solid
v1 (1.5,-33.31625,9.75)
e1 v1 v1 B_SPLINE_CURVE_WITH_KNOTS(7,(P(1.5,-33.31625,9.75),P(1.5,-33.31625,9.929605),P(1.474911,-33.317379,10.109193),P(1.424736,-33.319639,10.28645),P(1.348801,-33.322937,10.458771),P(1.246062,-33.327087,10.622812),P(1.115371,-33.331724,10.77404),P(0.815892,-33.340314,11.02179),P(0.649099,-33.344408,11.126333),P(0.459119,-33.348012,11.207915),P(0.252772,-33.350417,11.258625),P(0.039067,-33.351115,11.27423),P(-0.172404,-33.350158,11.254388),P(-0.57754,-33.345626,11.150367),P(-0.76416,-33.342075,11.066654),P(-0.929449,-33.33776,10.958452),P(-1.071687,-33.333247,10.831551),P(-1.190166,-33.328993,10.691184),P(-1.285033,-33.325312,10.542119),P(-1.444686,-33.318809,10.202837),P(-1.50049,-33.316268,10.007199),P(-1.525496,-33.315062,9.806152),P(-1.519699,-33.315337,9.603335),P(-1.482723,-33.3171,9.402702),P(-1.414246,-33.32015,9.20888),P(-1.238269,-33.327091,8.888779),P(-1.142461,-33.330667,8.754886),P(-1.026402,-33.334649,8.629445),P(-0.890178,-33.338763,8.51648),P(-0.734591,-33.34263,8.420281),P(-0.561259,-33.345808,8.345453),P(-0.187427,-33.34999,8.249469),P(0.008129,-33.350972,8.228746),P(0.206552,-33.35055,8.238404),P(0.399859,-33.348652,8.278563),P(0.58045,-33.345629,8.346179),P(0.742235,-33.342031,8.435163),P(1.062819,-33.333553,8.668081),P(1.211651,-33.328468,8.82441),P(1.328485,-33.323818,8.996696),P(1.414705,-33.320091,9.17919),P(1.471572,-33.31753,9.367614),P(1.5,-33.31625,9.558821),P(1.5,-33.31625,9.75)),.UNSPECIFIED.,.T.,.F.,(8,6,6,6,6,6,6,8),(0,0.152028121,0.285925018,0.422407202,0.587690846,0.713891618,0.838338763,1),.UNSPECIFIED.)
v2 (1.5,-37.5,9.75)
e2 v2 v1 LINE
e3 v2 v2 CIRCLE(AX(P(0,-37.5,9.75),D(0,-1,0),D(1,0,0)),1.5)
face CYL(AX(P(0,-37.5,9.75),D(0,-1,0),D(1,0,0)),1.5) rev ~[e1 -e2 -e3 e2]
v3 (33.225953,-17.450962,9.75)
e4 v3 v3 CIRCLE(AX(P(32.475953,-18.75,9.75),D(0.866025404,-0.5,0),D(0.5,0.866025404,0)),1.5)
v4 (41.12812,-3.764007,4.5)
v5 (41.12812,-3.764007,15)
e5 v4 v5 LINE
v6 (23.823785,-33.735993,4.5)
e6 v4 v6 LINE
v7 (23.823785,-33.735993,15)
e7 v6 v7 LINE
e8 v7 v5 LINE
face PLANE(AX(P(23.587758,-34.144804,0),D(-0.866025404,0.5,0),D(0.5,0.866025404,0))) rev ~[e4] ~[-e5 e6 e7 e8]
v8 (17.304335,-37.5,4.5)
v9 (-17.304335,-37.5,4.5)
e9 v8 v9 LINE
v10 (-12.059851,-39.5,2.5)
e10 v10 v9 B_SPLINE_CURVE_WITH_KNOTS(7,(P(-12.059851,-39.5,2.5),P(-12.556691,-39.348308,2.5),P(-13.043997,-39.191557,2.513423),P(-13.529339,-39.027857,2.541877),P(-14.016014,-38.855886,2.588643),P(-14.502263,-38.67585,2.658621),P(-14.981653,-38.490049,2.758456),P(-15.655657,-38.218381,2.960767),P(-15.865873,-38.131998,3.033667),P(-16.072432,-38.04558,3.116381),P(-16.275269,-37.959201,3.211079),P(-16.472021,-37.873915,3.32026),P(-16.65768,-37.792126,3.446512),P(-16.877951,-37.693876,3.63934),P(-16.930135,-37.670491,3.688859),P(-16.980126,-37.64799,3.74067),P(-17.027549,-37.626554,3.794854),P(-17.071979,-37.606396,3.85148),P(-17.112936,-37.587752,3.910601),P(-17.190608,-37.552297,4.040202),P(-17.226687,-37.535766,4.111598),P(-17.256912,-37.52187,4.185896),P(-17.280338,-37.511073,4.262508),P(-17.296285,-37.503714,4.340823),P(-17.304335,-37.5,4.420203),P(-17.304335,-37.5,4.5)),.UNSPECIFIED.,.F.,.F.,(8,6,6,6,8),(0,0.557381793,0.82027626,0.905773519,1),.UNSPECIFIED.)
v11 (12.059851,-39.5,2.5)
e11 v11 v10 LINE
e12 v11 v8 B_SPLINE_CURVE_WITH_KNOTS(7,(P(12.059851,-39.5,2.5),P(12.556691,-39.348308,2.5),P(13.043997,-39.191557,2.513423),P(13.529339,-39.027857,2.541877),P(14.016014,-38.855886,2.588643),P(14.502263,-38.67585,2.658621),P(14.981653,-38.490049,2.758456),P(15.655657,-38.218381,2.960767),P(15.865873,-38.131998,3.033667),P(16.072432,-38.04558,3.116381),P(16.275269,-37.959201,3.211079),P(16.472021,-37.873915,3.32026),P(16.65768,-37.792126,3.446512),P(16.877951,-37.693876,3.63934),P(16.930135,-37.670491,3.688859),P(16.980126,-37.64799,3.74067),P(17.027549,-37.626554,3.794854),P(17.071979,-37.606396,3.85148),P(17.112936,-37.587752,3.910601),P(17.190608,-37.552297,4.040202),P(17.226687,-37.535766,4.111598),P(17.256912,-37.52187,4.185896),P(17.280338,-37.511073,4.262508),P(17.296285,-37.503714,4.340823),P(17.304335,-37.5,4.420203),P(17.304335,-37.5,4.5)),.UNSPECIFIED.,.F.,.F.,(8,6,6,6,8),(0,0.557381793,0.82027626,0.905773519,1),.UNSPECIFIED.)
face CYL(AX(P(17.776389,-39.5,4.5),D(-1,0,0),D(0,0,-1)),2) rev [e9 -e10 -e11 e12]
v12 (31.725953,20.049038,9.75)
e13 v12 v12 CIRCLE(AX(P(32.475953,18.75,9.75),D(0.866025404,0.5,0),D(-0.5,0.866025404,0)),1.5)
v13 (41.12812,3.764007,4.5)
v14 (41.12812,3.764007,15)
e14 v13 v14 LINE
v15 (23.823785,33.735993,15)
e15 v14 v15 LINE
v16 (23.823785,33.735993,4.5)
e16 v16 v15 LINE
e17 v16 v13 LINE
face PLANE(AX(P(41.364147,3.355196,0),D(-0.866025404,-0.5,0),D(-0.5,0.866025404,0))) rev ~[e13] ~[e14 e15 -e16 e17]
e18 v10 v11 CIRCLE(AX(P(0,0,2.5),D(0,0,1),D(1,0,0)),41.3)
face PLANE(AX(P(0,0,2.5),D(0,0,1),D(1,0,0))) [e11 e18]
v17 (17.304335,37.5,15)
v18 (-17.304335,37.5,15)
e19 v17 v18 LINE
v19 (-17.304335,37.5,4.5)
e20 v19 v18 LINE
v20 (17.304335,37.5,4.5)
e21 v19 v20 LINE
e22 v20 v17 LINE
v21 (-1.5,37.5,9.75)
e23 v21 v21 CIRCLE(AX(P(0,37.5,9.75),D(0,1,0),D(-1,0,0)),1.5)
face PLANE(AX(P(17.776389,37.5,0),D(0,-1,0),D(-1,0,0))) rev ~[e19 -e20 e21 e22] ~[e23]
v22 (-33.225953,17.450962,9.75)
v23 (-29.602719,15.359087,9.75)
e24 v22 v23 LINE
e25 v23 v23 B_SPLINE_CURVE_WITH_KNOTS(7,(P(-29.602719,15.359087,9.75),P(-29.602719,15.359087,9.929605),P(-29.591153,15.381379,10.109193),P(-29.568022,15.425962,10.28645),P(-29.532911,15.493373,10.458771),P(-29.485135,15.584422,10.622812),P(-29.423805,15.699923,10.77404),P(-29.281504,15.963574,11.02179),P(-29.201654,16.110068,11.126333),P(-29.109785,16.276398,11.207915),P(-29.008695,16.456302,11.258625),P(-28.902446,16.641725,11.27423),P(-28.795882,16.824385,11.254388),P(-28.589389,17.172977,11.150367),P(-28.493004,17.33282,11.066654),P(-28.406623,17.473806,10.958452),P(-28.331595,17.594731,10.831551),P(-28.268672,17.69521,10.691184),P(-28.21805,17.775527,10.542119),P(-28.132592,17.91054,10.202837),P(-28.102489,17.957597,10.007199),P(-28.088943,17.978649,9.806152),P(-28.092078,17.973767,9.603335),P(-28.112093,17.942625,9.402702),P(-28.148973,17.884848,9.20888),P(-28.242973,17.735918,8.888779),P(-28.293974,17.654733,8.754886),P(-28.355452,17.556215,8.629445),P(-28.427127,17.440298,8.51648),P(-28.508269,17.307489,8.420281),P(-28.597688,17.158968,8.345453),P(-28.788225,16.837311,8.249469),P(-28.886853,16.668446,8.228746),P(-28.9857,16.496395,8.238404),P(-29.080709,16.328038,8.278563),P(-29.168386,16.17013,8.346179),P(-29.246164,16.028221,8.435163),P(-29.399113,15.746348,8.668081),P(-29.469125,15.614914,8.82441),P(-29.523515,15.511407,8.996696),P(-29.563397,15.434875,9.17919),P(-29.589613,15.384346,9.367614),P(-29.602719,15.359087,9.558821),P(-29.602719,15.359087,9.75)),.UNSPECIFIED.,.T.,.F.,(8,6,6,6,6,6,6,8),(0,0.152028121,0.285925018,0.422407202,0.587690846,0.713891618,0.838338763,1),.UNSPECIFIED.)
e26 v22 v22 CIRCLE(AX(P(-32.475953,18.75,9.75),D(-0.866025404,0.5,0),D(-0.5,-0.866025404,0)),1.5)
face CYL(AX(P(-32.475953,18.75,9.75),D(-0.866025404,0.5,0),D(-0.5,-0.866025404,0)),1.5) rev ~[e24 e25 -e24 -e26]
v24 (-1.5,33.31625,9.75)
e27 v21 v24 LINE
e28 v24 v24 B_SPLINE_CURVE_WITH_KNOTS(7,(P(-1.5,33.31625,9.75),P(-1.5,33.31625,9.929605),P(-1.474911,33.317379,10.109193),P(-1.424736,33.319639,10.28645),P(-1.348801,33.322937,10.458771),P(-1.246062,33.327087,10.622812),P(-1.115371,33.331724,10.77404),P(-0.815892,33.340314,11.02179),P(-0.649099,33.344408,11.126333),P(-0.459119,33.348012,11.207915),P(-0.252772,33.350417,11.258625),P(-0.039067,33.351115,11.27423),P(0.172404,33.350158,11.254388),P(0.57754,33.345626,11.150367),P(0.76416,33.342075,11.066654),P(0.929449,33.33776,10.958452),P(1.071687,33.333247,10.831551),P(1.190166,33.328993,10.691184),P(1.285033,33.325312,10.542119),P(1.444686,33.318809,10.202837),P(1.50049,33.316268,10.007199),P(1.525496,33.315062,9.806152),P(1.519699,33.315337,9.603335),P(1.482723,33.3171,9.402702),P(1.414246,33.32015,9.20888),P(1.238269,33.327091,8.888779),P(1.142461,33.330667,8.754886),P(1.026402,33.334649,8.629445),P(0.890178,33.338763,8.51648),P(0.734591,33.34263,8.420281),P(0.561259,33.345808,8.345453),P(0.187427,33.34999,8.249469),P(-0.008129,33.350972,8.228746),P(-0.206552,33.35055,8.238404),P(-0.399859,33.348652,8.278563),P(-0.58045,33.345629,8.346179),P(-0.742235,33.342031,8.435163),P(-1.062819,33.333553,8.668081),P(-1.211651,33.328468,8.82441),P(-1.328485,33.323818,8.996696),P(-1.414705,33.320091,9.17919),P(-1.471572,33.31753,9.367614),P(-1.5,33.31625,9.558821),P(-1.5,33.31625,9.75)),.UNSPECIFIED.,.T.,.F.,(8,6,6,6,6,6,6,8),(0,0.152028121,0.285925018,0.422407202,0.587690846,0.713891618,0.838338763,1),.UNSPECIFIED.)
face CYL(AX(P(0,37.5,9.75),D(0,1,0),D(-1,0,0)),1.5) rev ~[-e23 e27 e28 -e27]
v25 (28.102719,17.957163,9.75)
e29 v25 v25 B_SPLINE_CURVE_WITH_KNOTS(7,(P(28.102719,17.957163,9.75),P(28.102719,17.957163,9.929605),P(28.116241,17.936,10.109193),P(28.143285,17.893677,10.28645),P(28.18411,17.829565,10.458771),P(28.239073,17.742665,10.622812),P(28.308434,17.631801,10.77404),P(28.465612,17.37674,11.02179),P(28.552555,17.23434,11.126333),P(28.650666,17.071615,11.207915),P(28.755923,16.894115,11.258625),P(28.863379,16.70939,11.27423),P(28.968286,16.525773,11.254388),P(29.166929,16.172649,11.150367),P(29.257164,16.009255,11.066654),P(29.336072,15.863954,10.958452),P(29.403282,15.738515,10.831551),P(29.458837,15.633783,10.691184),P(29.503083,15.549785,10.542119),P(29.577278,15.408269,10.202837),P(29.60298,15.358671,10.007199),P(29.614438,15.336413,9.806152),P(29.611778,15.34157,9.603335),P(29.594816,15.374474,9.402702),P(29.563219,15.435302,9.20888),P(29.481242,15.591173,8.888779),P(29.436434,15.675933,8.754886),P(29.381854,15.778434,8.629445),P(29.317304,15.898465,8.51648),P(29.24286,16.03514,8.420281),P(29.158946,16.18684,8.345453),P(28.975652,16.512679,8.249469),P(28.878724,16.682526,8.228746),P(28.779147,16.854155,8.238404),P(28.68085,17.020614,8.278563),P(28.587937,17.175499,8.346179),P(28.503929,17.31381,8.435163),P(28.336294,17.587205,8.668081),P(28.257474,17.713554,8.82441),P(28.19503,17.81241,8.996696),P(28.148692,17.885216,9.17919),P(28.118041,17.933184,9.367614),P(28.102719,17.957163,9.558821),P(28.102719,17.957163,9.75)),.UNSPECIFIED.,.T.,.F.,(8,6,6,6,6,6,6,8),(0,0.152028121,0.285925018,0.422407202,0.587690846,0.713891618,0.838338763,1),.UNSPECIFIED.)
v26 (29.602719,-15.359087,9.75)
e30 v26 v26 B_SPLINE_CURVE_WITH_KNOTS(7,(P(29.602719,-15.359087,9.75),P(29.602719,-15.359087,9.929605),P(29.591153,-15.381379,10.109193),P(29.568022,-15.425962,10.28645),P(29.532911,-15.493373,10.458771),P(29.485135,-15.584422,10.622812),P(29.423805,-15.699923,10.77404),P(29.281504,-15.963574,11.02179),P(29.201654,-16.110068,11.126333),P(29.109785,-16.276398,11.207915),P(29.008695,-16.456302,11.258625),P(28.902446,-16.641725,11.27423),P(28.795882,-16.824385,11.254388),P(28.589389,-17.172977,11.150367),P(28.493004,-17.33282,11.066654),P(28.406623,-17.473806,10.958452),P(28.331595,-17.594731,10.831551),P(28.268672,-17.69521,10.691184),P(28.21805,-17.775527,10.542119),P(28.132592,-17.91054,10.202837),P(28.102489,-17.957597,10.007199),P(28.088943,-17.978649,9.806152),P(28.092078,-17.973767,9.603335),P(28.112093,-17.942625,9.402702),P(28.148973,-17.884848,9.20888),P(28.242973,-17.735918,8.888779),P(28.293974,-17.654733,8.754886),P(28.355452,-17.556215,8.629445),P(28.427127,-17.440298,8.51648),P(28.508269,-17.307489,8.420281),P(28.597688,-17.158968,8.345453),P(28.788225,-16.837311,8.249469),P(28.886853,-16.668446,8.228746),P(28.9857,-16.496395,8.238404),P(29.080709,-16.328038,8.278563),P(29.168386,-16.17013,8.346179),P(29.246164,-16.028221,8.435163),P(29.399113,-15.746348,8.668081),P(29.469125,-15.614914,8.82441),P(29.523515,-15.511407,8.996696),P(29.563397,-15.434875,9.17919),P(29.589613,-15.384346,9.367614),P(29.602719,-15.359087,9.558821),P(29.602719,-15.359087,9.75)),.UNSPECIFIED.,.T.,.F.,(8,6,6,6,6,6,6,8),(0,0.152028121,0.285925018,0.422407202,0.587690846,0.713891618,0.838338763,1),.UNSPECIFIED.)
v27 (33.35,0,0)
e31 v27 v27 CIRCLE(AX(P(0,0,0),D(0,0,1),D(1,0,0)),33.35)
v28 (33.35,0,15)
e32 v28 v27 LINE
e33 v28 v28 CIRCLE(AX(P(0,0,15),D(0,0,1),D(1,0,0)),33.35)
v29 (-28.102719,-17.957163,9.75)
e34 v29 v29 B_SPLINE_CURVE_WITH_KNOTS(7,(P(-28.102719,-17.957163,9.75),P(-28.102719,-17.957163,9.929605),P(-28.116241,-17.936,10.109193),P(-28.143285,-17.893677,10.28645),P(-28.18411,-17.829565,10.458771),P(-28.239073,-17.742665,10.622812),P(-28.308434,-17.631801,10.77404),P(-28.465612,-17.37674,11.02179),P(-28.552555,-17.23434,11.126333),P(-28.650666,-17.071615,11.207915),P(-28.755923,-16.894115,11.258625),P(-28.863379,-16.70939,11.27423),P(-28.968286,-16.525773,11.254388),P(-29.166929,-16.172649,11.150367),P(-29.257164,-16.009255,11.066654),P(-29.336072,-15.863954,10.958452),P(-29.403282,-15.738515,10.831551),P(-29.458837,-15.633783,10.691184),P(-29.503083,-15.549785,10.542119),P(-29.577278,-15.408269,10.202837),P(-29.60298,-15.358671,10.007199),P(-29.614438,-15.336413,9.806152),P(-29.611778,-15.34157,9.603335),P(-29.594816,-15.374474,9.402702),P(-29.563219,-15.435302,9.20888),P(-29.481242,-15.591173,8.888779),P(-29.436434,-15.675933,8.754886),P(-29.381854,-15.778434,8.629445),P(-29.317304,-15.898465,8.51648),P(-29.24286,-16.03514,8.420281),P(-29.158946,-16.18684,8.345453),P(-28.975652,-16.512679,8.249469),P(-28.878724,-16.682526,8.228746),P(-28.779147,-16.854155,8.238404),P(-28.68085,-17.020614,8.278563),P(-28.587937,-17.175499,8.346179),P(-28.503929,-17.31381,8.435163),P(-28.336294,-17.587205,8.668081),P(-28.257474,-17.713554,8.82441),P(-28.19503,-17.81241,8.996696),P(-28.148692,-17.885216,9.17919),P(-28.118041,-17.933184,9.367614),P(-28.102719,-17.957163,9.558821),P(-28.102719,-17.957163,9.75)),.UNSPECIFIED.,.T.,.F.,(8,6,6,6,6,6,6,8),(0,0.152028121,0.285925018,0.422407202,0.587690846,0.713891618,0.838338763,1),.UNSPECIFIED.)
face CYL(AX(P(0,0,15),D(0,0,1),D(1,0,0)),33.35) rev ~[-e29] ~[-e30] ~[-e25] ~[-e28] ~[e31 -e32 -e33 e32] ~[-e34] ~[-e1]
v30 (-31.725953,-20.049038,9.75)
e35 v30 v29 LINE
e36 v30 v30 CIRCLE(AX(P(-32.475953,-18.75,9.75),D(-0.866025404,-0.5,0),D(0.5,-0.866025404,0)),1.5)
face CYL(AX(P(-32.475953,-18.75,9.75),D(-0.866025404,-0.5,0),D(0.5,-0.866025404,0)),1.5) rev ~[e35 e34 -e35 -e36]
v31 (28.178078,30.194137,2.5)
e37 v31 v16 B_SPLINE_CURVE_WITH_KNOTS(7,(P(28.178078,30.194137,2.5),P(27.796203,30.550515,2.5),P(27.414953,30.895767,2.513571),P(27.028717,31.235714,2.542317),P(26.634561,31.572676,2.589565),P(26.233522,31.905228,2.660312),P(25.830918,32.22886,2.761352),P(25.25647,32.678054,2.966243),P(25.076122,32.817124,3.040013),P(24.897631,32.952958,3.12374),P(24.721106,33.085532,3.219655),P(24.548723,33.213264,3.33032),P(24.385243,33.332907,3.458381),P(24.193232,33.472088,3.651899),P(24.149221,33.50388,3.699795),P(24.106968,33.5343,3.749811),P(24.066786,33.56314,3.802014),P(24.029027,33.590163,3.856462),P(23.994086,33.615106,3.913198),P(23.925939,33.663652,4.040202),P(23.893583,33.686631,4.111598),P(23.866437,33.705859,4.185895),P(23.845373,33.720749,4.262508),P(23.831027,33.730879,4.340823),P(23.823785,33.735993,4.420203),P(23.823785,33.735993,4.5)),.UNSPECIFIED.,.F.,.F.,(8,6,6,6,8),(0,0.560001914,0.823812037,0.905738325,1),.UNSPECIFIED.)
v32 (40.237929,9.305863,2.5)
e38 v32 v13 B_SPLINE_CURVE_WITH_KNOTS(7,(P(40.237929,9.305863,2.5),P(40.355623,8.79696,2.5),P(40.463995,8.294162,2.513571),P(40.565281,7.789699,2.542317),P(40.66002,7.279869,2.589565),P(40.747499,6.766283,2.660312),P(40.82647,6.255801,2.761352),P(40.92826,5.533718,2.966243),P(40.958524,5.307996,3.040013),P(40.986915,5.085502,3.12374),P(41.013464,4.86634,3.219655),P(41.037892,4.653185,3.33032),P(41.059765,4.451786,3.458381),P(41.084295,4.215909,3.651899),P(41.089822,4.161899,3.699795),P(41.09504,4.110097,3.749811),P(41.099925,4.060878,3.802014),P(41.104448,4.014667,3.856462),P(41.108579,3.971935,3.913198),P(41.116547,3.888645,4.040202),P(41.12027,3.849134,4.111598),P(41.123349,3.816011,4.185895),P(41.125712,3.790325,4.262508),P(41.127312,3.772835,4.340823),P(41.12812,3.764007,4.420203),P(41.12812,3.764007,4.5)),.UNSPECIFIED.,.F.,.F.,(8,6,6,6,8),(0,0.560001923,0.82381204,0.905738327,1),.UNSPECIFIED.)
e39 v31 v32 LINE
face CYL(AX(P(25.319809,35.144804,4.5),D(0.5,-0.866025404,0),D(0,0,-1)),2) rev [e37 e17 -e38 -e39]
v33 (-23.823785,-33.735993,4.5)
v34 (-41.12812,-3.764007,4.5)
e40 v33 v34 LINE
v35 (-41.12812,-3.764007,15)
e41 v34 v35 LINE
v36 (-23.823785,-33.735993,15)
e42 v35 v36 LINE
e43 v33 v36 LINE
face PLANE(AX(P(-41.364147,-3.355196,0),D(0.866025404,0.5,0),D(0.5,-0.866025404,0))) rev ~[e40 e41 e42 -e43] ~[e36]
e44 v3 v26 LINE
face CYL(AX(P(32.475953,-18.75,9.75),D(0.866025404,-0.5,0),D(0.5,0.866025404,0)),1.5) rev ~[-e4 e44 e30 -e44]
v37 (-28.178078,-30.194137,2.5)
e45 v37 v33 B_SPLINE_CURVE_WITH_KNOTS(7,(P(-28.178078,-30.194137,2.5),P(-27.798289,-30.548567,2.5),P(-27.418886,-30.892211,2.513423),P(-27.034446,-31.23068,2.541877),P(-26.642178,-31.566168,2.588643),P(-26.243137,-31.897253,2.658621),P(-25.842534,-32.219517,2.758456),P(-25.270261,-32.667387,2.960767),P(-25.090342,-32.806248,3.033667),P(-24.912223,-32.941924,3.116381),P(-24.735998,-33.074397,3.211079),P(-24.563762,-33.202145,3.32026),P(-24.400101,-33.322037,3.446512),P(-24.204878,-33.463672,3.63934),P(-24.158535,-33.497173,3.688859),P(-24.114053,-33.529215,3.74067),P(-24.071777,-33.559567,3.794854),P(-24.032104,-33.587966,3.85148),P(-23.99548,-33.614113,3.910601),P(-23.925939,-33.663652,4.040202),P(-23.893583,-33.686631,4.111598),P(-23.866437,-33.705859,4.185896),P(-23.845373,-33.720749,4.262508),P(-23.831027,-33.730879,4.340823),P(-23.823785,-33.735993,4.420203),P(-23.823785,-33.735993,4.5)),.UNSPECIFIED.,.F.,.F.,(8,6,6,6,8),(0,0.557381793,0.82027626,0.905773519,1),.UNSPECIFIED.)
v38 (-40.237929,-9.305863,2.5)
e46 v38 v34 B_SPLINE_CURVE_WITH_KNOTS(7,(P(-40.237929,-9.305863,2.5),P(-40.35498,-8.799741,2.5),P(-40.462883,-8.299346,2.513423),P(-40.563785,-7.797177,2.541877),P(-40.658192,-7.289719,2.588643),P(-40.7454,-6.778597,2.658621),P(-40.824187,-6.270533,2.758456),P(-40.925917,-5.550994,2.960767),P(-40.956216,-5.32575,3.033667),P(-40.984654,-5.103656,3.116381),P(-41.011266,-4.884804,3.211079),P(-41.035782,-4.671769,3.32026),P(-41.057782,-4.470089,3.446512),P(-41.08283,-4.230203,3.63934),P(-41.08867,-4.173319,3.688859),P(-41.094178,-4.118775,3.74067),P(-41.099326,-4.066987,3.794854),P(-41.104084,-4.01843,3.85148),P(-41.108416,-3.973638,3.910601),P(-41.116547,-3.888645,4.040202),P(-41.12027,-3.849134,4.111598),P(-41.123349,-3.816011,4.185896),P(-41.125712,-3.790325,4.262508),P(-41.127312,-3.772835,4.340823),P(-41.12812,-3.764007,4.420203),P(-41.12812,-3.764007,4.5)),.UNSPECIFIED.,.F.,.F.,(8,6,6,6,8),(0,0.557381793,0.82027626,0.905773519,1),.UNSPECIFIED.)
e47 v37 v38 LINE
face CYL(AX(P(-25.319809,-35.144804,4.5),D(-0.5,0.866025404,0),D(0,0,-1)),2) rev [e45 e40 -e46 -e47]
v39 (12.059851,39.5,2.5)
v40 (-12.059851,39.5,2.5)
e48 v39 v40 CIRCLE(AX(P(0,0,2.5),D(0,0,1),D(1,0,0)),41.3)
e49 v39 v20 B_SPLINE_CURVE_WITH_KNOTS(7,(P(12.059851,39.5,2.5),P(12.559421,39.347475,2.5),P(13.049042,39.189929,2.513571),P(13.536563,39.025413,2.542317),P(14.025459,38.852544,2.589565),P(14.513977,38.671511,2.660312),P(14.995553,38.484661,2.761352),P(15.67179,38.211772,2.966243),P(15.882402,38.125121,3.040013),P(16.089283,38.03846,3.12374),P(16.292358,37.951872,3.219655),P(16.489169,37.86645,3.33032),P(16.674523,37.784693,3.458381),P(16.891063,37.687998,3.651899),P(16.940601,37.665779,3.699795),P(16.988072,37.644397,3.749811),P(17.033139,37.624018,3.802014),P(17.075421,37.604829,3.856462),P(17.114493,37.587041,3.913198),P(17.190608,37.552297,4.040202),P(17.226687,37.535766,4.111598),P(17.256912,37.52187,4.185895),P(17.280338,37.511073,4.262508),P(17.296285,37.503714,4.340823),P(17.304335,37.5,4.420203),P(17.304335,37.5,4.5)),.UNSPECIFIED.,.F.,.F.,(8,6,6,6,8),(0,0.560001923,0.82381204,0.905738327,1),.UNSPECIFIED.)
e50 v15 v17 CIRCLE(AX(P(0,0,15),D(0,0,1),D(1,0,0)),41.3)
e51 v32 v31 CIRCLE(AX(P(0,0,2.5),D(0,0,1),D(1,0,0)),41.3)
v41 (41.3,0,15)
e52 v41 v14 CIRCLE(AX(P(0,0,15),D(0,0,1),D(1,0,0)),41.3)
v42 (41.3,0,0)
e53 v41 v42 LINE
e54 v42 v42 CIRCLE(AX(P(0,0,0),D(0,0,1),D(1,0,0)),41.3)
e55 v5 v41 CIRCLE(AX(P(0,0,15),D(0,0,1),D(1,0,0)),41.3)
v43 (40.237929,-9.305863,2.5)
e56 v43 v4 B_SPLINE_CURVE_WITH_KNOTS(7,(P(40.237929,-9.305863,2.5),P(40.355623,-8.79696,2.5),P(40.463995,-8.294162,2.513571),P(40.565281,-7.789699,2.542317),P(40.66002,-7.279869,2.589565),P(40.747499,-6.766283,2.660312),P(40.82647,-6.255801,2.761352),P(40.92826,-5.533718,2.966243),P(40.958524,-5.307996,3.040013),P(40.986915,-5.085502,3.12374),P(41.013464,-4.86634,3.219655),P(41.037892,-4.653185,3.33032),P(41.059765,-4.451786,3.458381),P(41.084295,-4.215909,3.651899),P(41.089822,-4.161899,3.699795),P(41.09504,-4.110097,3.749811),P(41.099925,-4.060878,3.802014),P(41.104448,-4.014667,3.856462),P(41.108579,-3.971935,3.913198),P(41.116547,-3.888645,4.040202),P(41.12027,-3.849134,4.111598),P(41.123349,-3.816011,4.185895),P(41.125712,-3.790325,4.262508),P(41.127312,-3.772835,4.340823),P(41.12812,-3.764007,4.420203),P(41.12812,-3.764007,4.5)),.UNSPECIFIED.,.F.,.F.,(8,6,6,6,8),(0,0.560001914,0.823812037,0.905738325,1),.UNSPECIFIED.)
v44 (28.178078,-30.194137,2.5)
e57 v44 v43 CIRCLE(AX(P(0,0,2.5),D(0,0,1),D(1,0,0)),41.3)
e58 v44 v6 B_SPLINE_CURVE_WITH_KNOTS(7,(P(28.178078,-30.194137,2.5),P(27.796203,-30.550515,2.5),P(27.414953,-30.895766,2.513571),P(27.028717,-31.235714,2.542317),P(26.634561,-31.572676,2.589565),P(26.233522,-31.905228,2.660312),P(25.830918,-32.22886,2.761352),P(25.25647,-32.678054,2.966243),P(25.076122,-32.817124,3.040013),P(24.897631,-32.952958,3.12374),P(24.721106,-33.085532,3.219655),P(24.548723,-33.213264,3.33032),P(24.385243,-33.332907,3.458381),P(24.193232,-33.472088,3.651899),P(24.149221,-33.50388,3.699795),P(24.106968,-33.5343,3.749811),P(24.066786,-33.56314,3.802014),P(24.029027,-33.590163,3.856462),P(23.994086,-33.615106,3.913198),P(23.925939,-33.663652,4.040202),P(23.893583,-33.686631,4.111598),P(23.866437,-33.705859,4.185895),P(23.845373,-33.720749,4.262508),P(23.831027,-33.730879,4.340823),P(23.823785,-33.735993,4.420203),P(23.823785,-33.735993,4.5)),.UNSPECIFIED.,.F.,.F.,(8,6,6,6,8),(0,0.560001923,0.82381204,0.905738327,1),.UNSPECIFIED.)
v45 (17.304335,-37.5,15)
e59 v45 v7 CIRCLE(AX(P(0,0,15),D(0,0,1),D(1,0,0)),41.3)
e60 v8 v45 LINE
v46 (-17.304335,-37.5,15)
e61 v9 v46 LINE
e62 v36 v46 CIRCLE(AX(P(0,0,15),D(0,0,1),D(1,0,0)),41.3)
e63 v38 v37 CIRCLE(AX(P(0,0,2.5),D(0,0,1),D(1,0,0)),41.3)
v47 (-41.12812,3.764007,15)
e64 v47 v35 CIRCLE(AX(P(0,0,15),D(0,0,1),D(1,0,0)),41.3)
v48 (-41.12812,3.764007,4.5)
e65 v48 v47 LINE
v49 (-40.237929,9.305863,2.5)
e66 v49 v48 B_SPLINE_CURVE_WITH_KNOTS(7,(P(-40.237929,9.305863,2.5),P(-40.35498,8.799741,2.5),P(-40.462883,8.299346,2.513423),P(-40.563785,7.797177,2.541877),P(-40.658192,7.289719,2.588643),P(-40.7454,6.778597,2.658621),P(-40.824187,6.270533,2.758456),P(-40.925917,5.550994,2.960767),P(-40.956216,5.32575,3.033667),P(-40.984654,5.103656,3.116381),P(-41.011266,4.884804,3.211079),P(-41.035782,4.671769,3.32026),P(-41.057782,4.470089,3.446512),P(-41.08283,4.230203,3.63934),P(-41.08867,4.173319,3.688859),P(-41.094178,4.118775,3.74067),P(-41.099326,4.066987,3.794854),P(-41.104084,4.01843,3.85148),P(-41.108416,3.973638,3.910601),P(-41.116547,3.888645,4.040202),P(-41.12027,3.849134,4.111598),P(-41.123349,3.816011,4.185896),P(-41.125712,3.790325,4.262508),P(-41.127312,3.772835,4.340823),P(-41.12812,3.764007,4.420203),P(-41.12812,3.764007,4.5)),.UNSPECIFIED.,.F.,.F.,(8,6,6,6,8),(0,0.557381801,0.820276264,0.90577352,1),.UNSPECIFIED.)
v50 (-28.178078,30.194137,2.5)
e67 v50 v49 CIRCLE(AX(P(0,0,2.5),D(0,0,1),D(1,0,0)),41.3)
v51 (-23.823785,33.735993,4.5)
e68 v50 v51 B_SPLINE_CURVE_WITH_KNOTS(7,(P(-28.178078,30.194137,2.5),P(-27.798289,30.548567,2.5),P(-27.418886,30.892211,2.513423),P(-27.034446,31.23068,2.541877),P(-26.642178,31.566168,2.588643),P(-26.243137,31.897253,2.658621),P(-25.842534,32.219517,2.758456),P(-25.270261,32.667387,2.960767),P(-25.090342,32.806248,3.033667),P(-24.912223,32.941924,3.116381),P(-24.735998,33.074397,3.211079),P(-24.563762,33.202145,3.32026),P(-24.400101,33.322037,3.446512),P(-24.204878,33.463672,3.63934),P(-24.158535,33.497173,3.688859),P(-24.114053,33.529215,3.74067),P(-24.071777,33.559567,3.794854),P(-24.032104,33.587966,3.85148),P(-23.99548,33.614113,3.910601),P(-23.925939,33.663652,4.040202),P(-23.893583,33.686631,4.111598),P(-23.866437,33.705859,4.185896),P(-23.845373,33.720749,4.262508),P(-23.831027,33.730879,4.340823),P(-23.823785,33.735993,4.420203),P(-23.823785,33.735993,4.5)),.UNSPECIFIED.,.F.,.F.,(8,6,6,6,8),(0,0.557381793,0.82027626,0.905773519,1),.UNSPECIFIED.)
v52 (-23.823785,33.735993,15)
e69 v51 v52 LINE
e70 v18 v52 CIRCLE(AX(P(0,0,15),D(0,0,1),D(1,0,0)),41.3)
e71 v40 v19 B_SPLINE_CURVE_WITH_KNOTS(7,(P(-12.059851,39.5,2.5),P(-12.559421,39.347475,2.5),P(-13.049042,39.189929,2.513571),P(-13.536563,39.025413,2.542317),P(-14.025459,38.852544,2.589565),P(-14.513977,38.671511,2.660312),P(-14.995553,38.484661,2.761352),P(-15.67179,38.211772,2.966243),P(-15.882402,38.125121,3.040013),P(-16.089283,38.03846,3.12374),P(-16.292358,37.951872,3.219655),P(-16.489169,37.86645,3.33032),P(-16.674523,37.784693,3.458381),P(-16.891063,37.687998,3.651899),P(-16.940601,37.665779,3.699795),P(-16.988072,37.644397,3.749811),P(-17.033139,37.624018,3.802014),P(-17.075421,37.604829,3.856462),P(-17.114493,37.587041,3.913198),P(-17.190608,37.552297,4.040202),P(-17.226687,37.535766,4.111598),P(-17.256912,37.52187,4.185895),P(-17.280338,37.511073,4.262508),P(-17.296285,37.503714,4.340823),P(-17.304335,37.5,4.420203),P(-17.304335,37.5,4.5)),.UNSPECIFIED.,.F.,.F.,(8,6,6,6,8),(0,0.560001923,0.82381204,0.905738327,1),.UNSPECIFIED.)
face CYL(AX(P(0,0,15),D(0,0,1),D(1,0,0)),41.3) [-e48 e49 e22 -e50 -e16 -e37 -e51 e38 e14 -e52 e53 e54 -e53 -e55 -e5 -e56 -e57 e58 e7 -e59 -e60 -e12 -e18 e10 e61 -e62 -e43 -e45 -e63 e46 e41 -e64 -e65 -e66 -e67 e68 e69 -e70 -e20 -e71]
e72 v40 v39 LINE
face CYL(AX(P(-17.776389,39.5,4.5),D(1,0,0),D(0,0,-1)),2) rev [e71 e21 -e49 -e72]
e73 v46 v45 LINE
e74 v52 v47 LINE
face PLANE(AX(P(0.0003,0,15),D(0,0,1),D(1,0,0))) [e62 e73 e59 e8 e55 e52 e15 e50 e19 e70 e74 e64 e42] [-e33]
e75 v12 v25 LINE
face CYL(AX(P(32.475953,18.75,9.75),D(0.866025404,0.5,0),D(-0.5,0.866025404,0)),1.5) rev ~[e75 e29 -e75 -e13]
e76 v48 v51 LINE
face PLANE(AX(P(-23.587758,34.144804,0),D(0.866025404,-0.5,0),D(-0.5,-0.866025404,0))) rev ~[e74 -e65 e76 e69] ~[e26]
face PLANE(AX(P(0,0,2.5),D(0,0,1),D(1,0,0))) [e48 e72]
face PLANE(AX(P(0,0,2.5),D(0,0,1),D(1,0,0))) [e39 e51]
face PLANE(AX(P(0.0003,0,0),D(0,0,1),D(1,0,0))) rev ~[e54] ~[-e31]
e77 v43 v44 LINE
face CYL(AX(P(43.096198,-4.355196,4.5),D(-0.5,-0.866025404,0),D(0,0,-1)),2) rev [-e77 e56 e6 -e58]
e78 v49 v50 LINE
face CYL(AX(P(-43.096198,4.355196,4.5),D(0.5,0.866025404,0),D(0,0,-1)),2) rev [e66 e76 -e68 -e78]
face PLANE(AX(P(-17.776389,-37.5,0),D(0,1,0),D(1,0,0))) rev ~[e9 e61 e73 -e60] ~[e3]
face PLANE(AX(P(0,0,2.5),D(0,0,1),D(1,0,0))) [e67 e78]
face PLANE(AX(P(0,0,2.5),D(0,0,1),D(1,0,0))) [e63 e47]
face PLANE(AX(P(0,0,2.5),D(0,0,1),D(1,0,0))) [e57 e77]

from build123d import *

# Parameters (mm, degrees)
SZKIC2_R                    = 46.017617149
DODANIE_WYCI_GNI_CIE1_DEPTH = 2.5
DODANIE_WYCI_GNI_CIE2_DEPTH = 15
SZKIC3_R                    = 46.5
SZKIC3_R_2                  = 42.5
WYTNIJ_WYCI_GNI_CIE3_DEPTH  = 10
SZKIC8_R                    = 33.35
WYTNIJ_WYCI_GNI_CIE2_DEPTH  = 62.947558467
ZAOKR_GLENIE2_R             = 2
SZKIC9_R                    = 1.5
WYTNIJ_WYCI_GNI_CIE4_DEPTH  = 10
SZYK_KO_OWY1_COUNT          = 6
SZKIC10_R                   = 50
SZKIC10_R_2                 = 41.3
WYTNIJ_WYCI_GNI_CIE5_DEPTH  = 62.947558491


with BuildPart() as part:
    # Szkic2 → Dodanie-wyci_gni_cie1 (new body)
    with BuildSketch(Plane.XY):
        Circle(SZKIC2_R)
    extrude(amount=DODANIE_WYCI_GNI_CIE1_DEPTH)

    # Szkic2_3 → Dodanie-wyci_gni_cie2 (add)
    with BuildSketch(Plane.XY):
        with BuildLine():
            ThreePointArc((17.776388835, -37.5), (20.75, -35.940054257), (23.587758225, -34.144804318))
            Line((23.587758225, -34.144804318), (41.364147059, -3.355195682))
            ThreePointArc((41.364147059, -3.355195682), (41.466022856, -1.67897246), (41.5, 0))
            ThreePointArc((41.5, 0), (41.466022856, 1.67897246), (41.364147059, 3.355195682))
            Line((41.364147059, 3.355195682), (23.587758225, 34.144804318))
            ThreePointArc((23.587758225, 34.144804318), (20.75, 35.940054257), (17.776388835, 37.5))
            Line((17.776388835, 37.5), (-17.776388835, 37.5))
            ThreePointArc((-17.776388835, 37.5), (-20.75, 35.940054257), (-23.587758225, 34.144804318))
            Line((-23.587758225, 34.144804318), (-41.364147059, 3.355195682))
            ThreePointArc((-41.364147059, 3.355195682), (-41.5, 0), (-41.364147059, -3.355195682))
            Line((-41.364147059, -3.355195682), (-23.587758225, -34.144804318))
            ThreePointArc((-23.587758225, -34.144804318), (-20.75, -35.940054257), (-17.776388835, -37.5))
            Line((-17.776388835, -37.5), (17.776388835, -37.5))
        make_face()
    extrude(amount=DODANIE_WYCI_GNI_CIE2_DEPTH)

    # Szkic3 → Wytnij-wyci_gni_cie3 (cut)
    with BuildSketch(Plane(origin=(0, 0, 2.5), x_dir=(-1, 0, 0), z_dir=(0, 0, -1))):
        Circle(SZKIC3_R)
        Circle(SZKIC3_R_2, mode=Mode.SUBTRACT)
    extrude(amount=WYTNIJ_WYCI_GNI_CIE3_DEPTH, mode=Mode.SUBTRACT)

    # Szkic8 → Wytnij-wyci_gni_cie2 (cut, through all)
    with BuildSketch(Plane.XY.offset(15)):
        Circle(SZKIC8_R)
    extrude(amount=-WYTNIJ_WYCI_GNI_CIE2_DEPTH, mode=Mode.SUBTRACT)

    # Zaokr_glenie2
    zaokr_glenie2_edges = [part.edges().sort_by_distance(p)[0] for p in [
        (-32.475952642, 18.75, 2.5),
        (0, 37.5, 2.5),
        (32.475952642, 18.75, 2.5),
        (32.475952642, -18.75, 2.5),
        (0, -37.5, 2.5),
        (-32.475952642, -18.75, 2.5),
    ]]
    fillet(zaokr_glenie2_edges, radius=ZAOKR_GLENIE2_R)

    # Szkic9 → Wytnij-wyci_gni_cie4 (cut)
    with BuildSketch(Plane(origin=(-32.475952642, -18.75, 0), x_dir=(0, 0, 1), z_dir=(-0.8660254037844386, -0.5000000000000001, 0))):
        with Locations((9.75, 0)):
            Circle(SZKIC9_R)
    wytnij_wyci_gni_cie4 = extrude(amount=-WYTNIJ_WYCI_GNI_CIE4_DEPTH, mode=Mode.SUBTRACT)

    # Szyk ko_owy1: Wytnij-wyci_gni_cie4 ×6 about axis
    szyk_ko_owy1_axis = Axis((0, 0, 15), (0, 0, -1))
    for i in range(1, SZYK_KO_OWY1_COUNT):
        add(wytnij_wyci_gni_cie4.rotate(szyk_ko_owy1_axis, i * 360 / SZYK_KO_OWY1_COUNT), mode=Mode.SUBTRACT)

    # Szkic10 → Wytnij-wyci_gni_cie5 (cut, through all)
    with BuildSketch(Plane.XY.offset(15)):
        Circle(SZKIC10_R)
        Circle(SZKIC10_R_2, mode=Mode.SUBTRACT)
    extrude(amount=-WYTNIJ_WYCI_GNI_CIE5_DEPTH, mode=Mode.SUBTRACT)


solid = part.part
